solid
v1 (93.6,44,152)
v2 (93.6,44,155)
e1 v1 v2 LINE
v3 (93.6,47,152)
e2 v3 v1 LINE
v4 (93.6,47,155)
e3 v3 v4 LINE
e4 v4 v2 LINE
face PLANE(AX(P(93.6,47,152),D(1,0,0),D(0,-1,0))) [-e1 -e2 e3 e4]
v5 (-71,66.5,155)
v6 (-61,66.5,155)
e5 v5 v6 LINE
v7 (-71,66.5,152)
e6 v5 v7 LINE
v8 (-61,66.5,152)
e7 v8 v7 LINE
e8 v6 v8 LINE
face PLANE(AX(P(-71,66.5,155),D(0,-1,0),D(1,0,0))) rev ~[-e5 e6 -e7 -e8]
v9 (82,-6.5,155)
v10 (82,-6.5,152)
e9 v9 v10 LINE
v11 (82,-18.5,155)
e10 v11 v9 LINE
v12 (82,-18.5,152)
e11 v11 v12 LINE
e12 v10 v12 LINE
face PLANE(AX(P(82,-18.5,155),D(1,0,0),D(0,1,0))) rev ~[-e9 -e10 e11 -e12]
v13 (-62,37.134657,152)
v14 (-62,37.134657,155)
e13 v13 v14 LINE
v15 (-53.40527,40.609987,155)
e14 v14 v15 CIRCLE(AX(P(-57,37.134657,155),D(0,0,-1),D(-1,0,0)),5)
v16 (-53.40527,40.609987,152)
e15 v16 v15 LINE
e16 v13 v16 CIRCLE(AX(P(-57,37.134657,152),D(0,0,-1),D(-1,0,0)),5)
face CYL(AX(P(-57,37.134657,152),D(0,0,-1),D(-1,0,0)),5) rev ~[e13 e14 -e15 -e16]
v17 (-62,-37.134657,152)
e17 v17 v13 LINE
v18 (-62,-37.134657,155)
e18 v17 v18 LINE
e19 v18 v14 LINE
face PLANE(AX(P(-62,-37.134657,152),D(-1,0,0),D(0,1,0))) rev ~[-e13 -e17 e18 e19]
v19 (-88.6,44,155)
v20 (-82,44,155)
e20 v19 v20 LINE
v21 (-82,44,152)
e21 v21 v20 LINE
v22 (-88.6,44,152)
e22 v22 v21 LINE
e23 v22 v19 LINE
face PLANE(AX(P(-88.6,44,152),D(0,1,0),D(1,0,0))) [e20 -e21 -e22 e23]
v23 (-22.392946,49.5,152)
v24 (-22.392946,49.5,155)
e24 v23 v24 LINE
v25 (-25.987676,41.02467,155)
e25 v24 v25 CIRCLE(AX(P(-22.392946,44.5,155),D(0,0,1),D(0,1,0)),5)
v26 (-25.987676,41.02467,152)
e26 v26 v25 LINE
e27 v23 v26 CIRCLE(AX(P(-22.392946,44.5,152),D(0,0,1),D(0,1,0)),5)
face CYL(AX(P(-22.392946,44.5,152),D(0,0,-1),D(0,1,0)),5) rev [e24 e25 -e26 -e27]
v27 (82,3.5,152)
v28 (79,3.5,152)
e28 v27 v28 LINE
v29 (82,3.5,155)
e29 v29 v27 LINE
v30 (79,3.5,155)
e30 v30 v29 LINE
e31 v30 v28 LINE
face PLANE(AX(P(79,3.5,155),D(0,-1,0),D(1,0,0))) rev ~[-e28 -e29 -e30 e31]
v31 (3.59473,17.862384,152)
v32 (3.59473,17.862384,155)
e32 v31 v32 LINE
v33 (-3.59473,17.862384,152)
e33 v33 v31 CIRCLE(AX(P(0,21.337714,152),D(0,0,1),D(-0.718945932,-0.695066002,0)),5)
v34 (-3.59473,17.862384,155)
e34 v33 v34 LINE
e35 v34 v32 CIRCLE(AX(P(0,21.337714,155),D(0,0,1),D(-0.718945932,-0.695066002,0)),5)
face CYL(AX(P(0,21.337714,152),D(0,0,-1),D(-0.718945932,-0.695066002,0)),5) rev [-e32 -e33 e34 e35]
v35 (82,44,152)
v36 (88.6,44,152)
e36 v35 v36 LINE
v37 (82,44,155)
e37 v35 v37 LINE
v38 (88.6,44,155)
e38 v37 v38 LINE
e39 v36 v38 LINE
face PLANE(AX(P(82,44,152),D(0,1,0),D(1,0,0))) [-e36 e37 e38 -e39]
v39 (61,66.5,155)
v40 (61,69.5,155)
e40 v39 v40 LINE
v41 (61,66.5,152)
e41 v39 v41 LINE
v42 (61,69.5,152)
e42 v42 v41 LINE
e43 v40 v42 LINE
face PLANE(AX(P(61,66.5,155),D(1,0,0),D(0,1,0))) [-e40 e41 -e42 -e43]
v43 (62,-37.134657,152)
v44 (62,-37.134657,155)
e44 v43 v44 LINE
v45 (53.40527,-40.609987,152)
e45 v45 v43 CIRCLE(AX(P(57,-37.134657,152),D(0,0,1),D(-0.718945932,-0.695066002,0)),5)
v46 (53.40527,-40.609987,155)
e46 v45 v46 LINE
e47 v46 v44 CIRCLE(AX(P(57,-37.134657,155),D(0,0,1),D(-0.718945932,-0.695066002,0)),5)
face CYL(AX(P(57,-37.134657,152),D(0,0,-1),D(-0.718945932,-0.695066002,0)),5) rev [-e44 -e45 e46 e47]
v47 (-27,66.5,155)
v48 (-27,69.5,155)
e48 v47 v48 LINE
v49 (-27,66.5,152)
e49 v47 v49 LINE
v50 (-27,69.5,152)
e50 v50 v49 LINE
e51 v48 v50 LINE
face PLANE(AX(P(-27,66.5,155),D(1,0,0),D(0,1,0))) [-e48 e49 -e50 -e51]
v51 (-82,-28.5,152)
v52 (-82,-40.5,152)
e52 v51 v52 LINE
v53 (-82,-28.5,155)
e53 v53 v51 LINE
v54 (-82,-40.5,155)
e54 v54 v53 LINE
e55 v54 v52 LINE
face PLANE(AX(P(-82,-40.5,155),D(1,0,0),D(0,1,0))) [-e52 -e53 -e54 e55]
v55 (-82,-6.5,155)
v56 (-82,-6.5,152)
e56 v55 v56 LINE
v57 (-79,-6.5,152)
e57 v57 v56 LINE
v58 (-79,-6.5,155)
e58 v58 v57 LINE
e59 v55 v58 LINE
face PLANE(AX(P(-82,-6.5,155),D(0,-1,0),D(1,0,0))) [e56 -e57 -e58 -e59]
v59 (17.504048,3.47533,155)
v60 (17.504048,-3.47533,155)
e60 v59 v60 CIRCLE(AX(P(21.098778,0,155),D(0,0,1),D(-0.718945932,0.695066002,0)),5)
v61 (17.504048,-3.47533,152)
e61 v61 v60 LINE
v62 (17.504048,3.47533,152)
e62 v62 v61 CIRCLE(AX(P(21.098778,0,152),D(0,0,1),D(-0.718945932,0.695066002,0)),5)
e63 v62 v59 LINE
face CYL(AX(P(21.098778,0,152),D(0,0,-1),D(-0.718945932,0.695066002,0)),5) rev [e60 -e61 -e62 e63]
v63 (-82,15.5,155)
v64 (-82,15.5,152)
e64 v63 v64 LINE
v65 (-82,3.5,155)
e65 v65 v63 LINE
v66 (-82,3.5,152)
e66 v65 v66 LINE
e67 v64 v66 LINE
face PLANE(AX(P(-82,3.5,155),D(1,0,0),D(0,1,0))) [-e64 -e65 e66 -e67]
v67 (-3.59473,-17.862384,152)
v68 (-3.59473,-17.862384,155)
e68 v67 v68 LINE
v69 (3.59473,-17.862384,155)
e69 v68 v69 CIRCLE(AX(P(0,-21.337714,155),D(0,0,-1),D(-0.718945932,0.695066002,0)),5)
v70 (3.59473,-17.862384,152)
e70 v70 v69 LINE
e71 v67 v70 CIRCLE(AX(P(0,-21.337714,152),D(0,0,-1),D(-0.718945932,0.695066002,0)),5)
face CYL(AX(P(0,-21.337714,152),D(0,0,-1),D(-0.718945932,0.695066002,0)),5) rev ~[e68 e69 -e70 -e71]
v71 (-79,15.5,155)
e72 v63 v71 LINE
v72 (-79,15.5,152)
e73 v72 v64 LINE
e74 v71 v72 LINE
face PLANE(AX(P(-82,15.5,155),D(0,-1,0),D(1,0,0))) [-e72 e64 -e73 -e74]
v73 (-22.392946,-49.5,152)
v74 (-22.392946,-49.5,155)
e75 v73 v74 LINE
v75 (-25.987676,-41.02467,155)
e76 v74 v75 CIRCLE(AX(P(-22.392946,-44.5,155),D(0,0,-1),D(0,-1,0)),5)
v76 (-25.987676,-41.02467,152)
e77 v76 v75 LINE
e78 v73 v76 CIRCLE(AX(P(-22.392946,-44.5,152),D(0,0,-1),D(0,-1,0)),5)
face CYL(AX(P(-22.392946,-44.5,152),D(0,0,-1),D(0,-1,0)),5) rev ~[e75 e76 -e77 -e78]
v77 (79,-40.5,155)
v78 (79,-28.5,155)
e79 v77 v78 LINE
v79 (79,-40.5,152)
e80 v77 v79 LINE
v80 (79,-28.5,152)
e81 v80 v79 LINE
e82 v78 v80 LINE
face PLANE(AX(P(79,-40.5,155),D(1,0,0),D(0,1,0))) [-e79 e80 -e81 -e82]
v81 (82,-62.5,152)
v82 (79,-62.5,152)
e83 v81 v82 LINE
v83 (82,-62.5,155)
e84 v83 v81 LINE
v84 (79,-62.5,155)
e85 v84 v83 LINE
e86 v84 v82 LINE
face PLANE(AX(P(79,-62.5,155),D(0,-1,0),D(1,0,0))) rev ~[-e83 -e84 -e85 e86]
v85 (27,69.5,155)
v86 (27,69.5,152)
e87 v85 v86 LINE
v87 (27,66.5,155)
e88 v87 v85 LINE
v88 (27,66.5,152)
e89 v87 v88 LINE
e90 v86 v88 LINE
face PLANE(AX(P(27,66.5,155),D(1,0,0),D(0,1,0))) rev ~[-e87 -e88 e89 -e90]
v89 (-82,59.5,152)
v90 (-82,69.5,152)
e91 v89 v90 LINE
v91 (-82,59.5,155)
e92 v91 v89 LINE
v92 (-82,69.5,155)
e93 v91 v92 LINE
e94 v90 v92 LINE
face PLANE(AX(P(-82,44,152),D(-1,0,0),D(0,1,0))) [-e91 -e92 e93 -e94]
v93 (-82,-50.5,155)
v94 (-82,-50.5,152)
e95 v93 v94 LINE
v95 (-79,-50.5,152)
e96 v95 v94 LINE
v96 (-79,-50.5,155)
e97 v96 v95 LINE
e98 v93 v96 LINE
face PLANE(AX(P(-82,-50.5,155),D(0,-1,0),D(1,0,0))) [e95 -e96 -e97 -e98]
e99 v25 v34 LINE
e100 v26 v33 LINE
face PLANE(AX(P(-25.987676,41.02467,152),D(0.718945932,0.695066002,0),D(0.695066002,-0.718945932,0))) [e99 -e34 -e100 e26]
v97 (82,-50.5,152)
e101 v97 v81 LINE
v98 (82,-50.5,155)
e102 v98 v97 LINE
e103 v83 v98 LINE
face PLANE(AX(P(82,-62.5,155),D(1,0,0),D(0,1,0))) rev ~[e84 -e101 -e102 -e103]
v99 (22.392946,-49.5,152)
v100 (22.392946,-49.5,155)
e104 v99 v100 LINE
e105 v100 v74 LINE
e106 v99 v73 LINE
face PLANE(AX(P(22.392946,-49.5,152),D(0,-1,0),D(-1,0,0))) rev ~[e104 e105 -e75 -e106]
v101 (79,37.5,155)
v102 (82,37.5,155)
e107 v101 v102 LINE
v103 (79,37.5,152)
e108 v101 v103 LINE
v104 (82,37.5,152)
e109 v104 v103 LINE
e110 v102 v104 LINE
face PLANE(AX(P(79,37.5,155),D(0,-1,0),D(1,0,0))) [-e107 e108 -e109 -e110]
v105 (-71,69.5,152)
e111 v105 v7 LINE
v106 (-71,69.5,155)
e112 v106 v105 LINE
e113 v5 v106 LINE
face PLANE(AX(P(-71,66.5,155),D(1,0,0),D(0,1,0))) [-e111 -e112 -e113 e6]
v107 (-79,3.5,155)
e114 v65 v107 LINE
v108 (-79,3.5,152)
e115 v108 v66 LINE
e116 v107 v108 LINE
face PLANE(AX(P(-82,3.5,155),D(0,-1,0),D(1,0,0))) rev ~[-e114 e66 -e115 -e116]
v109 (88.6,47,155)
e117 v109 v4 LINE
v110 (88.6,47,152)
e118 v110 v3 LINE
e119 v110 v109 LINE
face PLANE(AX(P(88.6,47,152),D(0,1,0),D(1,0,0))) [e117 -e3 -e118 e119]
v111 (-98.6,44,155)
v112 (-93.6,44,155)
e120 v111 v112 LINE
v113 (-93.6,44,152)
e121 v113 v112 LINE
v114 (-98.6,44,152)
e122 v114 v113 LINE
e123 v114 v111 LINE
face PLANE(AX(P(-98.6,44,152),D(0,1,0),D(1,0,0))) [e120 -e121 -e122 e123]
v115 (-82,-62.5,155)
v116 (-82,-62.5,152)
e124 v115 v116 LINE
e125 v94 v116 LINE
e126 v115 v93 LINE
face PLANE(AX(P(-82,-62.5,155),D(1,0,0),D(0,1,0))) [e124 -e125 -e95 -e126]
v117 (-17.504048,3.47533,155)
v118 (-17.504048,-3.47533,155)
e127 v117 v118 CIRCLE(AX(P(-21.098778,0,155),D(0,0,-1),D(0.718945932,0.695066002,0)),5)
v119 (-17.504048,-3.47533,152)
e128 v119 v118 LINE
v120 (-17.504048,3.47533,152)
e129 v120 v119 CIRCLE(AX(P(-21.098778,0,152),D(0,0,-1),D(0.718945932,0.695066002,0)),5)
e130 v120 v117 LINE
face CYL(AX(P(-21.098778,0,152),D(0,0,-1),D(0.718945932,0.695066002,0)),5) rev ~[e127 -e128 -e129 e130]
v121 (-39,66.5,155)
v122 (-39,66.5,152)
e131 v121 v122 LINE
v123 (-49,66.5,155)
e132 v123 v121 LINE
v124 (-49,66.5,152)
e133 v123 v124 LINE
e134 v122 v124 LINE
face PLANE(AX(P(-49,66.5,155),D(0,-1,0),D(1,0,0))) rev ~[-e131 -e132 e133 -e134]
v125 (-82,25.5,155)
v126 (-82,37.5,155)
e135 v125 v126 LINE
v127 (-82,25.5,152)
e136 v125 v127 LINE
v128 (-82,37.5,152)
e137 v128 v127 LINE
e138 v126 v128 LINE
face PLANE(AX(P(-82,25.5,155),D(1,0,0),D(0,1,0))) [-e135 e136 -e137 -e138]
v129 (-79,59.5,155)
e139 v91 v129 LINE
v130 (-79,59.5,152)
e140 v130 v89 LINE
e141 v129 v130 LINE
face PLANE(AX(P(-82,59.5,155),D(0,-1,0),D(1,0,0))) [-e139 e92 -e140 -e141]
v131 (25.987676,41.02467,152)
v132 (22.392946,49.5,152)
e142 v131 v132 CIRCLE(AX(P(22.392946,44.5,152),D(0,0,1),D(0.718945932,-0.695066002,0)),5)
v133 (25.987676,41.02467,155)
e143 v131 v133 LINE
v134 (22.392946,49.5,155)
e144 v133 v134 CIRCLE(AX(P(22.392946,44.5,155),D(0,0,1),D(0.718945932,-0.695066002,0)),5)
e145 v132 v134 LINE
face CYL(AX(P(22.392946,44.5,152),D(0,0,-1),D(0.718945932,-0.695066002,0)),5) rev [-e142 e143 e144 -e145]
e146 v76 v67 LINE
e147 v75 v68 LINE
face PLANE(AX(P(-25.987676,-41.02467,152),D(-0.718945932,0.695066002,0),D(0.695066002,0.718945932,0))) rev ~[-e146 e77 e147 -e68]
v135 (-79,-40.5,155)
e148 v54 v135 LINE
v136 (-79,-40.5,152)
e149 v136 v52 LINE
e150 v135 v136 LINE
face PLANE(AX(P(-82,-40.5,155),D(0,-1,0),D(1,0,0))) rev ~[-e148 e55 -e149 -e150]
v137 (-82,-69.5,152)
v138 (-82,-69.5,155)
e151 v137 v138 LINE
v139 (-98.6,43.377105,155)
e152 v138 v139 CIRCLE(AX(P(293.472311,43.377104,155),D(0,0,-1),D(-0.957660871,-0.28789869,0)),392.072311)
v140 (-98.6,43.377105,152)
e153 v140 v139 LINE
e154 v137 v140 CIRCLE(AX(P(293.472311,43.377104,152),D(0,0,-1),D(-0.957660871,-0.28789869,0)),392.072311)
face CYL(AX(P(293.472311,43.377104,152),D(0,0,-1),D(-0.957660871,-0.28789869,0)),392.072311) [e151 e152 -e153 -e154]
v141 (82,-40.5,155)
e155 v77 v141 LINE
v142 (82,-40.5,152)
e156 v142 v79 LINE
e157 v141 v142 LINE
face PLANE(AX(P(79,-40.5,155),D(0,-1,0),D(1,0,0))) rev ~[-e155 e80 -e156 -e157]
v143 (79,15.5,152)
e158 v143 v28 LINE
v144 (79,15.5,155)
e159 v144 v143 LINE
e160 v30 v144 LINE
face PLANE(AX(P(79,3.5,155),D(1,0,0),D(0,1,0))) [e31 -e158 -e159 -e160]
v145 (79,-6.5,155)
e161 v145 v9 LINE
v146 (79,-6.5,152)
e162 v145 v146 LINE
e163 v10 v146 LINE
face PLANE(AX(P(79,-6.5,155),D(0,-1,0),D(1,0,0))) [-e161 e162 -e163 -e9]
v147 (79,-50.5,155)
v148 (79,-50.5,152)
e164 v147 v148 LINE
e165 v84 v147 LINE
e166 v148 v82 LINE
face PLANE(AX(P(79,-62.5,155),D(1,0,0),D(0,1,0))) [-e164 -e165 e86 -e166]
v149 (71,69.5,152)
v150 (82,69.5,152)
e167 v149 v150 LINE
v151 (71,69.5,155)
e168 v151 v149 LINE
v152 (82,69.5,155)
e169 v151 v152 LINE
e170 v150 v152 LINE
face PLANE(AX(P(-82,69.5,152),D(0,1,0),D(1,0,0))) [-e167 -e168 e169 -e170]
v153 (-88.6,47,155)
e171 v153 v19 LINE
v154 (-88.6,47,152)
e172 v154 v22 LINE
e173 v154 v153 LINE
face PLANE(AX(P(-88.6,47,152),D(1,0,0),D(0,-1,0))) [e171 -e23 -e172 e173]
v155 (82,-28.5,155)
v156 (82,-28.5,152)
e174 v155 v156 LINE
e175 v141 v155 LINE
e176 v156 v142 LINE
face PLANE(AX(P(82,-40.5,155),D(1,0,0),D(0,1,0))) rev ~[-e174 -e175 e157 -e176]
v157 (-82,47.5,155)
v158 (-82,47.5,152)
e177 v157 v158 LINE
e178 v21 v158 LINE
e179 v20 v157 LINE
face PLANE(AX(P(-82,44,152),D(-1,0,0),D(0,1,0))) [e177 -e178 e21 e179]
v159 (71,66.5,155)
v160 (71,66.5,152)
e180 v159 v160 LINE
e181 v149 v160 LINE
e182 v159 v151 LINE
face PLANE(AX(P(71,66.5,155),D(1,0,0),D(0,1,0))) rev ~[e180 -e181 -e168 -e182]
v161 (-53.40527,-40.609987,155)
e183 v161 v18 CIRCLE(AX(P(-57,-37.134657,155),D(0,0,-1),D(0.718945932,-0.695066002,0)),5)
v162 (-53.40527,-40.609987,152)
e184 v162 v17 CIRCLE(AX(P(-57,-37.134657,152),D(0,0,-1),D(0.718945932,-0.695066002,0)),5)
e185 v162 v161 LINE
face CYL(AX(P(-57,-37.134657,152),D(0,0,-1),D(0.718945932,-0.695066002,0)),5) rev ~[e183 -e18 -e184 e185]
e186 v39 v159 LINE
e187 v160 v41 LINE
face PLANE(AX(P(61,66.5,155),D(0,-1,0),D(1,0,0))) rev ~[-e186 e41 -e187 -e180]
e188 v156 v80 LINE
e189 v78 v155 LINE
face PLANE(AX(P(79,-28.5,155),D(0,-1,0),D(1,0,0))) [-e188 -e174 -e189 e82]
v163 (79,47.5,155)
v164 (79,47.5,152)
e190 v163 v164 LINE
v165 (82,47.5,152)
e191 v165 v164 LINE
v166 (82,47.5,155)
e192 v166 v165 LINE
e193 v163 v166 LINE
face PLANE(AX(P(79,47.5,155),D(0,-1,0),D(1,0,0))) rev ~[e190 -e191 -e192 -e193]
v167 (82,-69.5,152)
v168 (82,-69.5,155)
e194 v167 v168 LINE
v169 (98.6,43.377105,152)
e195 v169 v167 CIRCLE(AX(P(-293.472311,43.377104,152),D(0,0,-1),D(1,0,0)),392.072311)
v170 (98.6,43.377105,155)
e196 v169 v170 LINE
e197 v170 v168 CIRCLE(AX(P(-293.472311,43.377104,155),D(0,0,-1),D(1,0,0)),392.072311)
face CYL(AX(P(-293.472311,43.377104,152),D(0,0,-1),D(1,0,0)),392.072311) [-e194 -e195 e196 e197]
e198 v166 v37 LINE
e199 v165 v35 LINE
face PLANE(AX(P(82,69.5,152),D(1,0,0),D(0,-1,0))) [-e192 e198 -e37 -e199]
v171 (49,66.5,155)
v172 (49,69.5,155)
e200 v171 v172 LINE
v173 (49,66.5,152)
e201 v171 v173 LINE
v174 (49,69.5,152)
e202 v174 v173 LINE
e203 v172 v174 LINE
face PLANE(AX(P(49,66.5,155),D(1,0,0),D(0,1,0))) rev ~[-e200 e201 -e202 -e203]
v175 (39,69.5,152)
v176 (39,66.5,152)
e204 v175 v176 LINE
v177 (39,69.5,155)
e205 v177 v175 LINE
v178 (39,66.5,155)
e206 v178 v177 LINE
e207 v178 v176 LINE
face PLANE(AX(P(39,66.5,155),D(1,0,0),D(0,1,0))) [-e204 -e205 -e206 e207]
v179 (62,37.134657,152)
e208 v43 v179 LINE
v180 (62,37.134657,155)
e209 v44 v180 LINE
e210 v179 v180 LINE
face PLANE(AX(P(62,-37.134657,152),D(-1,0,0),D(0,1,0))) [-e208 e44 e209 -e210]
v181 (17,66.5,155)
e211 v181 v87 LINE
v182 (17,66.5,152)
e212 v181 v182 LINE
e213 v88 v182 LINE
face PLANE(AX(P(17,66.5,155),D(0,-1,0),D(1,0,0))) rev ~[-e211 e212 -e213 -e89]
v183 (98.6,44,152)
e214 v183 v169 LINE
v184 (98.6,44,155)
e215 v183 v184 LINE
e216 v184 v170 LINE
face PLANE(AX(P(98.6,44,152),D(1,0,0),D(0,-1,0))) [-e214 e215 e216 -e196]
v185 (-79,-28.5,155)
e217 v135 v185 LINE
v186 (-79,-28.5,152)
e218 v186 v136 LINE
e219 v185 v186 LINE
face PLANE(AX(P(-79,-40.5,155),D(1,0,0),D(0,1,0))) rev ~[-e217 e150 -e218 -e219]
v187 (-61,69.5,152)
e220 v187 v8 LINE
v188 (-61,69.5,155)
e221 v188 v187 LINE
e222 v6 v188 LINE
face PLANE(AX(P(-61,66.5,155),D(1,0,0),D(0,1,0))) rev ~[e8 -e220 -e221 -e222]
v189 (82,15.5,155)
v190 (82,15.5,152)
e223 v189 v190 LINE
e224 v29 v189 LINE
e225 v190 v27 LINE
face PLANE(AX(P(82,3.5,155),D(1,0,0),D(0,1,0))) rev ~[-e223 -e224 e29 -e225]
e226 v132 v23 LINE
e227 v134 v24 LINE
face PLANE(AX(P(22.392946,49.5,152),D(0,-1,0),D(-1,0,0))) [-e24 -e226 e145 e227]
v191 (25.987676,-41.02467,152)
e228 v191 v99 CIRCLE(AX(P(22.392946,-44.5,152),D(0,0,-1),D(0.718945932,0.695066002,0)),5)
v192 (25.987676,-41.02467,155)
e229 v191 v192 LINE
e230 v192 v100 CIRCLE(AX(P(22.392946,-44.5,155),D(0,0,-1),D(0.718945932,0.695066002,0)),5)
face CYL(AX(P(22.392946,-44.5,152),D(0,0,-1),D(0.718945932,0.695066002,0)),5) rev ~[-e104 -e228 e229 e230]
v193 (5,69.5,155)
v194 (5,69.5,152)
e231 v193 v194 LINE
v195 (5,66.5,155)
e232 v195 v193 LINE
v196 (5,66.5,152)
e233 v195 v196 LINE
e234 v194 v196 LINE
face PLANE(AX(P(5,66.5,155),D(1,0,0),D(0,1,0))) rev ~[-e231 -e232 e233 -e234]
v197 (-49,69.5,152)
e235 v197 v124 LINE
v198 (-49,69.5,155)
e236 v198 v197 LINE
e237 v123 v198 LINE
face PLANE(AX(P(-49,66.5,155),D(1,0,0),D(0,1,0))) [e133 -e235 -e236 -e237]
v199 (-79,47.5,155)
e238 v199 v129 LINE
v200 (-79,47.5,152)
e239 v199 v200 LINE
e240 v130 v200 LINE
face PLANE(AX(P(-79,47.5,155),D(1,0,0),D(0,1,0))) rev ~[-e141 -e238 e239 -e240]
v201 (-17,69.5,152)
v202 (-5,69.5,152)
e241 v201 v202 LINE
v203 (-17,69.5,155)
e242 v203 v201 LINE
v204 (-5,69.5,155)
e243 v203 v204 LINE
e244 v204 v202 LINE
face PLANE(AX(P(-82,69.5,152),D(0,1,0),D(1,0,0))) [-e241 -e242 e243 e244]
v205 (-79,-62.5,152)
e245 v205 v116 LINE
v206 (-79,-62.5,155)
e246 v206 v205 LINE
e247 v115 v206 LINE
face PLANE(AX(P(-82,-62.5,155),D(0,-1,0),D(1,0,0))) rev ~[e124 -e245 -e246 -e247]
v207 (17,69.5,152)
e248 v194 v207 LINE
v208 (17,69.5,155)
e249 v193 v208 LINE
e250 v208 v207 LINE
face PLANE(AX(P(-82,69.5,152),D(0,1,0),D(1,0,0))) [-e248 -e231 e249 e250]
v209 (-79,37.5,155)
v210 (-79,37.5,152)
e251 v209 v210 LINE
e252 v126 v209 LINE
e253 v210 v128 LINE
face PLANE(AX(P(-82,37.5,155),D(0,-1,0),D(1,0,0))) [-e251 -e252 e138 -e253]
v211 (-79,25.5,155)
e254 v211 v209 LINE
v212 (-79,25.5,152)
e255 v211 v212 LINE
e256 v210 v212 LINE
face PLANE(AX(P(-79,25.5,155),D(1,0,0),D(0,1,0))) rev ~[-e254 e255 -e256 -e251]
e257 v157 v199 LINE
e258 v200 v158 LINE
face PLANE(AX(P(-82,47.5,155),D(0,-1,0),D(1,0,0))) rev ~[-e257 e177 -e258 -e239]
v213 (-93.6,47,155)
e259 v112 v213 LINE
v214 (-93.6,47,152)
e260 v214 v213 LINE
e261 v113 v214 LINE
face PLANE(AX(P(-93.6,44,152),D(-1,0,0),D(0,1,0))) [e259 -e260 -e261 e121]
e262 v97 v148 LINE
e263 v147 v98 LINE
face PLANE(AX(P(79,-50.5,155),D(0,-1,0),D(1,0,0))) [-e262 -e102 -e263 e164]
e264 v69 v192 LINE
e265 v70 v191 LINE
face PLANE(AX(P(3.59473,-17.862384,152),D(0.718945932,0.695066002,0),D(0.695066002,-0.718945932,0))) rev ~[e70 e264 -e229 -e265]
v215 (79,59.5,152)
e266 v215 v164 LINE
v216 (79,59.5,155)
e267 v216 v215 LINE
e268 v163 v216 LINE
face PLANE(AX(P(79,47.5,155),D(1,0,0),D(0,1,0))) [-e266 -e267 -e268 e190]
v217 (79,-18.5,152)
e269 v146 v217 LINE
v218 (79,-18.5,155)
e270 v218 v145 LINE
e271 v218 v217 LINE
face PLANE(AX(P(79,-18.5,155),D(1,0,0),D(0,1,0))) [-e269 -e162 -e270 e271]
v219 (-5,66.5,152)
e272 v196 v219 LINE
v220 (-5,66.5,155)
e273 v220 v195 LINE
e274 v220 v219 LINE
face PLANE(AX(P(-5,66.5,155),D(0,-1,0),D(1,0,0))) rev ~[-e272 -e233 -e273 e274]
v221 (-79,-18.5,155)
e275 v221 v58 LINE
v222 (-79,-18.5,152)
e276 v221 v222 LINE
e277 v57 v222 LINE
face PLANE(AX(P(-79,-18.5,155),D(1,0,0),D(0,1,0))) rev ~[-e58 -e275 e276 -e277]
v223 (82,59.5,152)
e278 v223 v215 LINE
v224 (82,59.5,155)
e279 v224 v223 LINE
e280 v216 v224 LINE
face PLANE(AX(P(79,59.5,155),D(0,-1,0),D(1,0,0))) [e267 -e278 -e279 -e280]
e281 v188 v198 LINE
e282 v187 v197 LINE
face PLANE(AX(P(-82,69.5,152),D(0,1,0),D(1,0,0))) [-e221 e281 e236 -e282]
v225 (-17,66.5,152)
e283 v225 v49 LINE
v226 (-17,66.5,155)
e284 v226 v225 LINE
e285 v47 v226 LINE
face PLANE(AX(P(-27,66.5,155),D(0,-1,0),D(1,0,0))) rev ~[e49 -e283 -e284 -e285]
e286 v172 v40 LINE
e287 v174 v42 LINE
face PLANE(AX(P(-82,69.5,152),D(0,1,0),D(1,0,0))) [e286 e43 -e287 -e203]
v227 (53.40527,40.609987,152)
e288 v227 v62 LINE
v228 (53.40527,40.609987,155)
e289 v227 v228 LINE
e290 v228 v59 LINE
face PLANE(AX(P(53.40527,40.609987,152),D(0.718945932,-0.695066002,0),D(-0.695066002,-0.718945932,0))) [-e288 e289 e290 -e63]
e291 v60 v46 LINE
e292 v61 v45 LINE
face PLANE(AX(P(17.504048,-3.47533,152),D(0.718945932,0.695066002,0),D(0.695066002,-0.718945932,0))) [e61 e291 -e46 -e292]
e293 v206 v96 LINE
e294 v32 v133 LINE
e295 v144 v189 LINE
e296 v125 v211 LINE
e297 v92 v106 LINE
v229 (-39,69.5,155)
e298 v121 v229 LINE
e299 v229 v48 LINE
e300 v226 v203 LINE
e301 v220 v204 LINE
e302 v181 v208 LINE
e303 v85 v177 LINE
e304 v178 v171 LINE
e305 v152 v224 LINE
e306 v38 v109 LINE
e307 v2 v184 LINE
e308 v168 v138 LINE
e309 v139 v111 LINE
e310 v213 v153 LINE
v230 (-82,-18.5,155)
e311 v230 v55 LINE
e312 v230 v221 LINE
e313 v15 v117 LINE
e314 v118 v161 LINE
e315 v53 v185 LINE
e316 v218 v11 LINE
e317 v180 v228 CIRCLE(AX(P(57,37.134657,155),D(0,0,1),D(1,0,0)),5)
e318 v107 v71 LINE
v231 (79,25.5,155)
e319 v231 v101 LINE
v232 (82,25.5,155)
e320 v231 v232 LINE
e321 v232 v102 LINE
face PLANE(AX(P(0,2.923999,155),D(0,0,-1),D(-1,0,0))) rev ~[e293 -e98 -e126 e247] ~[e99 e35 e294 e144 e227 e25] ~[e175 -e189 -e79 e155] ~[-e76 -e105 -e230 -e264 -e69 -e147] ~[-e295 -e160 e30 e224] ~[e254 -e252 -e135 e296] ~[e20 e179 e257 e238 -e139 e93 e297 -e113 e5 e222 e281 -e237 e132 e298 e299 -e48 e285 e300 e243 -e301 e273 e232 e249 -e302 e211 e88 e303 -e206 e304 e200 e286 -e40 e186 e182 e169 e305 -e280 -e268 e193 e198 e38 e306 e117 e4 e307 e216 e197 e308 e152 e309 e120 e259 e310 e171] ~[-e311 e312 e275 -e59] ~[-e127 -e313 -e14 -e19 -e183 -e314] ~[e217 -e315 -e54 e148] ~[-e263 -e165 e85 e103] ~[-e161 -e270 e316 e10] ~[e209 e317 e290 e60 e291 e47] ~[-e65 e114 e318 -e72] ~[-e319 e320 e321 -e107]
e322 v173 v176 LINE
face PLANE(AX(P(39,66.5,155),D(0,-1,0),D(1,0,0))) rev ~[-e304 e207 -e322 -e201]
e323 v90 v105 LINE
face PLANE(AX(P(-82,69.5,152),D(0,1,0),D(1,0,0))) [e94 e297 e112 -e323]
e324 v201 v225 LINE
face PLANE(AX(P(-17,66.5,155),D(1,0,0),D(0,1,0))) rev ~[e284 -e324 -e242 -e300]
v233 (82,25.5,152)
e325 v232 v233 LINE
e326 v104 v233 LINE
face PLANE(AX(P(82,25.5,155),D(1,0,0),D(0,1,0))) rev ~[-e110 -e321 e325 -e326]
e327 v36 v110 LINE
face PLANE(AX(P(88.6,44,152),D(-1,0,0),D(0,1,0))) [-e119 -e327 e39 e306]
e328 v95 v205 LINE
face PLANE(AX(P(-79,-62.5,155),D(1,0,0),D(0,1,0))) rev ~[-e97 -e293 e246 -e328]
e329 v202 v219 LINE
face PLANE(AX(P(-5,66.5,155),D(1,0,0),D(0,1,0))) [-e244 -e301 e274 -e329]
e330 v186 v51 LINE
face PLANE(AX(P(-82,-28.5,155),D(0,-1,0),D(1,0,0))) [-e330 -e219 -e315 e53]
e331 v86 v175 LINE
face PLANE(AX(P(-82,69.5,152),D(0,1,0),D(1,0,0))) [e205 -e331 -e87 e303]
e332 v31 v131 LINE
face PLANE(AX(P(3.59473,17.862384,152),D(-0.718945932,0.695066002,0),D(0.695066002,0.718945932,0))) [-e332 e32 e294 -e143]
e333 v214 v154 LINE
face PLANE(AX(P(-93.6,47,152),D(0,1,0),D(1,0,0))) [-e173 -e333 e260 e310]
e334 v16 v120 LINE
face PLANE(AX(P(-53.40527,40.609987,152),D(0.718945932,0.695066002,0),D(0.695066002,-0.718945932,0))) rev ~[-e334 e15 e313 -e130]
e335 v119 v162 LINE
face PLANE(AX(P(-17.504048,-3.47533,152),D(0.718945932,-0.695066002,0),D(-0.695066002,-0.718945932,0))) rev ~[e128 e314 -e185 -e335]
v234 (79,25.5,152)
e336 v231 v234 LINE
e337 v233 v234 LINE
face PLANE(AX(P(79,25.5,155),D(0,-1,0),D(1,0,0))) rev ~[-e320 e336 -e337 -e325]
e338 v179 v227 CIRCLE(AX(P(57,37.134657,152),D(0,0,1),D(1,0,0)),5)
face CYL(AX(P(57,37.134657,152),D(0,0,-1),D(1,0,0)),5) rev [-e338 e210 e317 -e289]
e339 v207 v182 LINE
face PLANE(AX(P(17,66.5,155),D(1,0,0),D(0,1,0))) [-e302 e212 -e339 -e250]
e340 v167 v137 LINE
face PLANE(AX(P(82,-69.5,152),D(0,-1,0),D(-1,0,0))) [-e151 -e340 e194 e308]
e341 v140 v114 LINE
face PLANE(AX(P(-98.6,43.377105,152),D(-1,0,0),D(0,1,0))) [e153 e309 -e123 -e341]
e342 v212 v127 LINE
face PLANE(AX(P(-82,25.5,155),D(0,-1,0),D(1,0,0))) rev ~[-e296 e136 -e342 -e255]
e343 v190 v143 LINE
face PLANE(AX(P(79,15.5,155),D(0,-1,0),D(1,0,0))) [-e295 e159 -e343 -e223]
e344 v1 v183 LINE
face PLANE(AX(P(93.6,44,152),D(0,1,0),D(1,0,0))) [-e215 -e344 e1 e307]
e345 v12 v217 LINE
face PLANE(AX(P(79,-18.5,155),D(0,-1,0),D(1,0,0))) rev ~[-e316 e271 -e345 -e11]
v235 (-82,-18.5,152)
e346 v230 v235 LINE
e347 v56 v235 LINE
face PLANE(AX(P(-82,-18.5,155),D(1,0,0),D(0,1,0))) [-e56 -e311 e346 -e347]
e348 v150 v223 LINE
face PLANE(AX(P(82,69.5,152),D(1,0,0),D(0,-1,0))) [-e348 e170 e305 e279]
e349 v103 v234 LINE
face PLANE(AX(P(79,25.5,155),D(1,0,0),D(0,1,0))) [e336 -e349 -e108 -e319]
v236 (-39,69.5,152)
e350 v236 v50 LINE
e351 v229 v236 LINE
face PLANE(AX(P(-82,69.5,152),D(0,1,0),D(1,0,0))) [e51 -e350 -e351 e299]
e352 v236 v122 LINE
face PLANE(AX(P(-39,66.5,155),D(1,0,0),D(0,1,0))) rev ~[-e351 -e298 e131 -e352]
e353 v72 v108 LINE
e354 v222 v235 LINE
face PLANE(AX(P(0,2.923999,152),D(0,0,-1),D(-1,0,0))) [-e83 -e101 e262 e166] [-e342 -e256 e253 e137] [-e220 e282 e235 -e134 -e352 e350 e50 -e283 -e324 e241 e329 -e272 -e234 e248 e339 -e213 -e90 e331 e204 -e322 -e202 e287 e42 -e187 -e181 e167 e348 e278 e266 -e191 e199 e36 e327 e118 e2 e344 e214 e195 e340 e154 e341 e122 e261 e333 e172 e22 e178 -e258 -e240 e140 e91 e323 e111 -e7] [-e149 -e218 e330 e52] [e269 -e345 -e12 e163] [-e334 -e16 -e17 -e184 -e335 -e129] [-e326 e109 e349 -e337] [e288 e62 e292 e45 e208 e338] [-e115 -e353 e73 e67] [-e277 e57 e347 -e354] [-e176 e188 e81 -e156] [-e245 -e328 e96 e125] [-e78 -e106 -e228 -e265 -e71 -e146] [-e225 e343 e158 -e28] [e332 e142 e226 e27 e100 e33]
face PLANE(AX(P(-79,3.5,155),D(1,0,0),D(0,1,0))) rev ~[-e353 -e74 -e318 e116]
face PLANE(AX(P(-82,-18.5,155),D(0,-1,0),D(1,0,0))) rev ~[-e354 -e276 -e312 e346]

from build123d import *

# Parameters (mm, degrees)
BOSS_EXTRUDE1_DEPTH = 3
SKETCH2_W           = 10
SKETCH2_H           = 3
SKETCH2_W_2         = 3
SKETCH2_H_2         = 12
CUT_EXTRUDE1_DEPTH  = 10


with BuildPart() as part:
    # Sketch1 → Boss-Extrude1 (new body)
    with BuildSketch(Plane.XY.offset(152)):
        with BuildLine():
            Line((-82, 69.5), (82, 69.5))
            Line((82, 69.5), (82, 44))
            Line((82, 44), (88.6, 44))
            Line((88.6, 44), (88.6, 47))
            Line((88.6, 47), (93.6, 47))
            Line((93.6, 47), (93.6, 44))
            Line((93.6, 44), (98.6, 44))
            Line((98.6, 44), (98.6, 43.377104502))
            ThreePointArc((98.6, 43.377104502), (94.427800977, -13.668492876), (82, -69.5))
            Line((82, -69.5), (-82, -69.5))
            ThreePointArc((-82, -69.5), (-94.427800977, -13.668492876), (-98.6, 43.377104502))
            Line((-98.6, 43.377104502), (-98.6, 44))
            Line((-98.6, 44), (-93.6, 44))
            Line((-93.6, 44), (-93.6, 47))
            Line((-93.6, 47), (-88.6, 47))
            Line((-88.6, 47), (-88.6, 44))
            Line((-88.6, 44), (-82, 44))
            Line((-82, 44), (-82, 69.5))
        make_face()
        with BuildLine():
            Line((-62, -37.134656801), (-62, 37.134656801))
            ThreePointArc((-62, 37.134656801), (-58.87434678, 41.770045043), (-53.405270341, 40.609986811))
            Line((-53.405270341, 40.609986811), (-17.504048439, 3.47533001))
            ThreePointArc((-17.504048439, 3.47533001), (-16.098778099, 0), (-17.504048439, -3.47533001))
            Line((-17.504048439, -3.47533001), (-53.405270341, -40.609986811))
            ThreePointArc((-53.405270341, -40.609986811), (-58.87434678, -41.770045043), (-62, -37.134656801))
        make_face(mode=Mode.SUBTRACT)
        with BuildLine():
            Line((22.39294647, 49.5), (-22.39294647, 49.5))
            ThreePointArc((-22.39294647, 49.5), (-26.996024247, 46.452351141), (-25.987676129, 41.02466999))
            Line((-25.987676129, 41.02466999), (-3.594729659, 17.862383642))
            ThreePointArc((-3.594729659, 17.862383642), (0, 16.337713652), (3.594729659, 17.862383642))
            Line((3.594729659, 17.862383642), (25.987676129, 41.02466999))
            ThreePointArc((25.987676129, 41.02466999), (26.996024247, 46.452351141), (22.39294647, 49.5))
        make_face(mode=Mode.SUBTRACT)
        with BuildLine():
            Line((53.405270341, 40.609986811), (17.504048439, 3.47533001))
            ThreePointArc((17.504048439, 3.47533001), (16.098778099, 0), (17.504048439, -3.47533001))
            Line((17.504048439, -3.47533001), (53.405270341, -40.609986811))
            ThreePointArc((53.405270341, -40.609986811), (58.87434678, -41.770045043), (62, -37.134656801))
            Line((62, -37.134656801), (62, 37.134656801))
            ThreePointArc((62, 37.134656801), (58.87434678, 41.770045043), (53.405270341, 40.609986811))
        make_face(mode=Mode.SUBTRACT)
        with BuildLine():
            Line((-25.987676129, -41.02466999), (-3.594729659, -17.862383642))
            ThreePointArc((-3.594729659, -17.862383642), (0, -16.337713652), (3.594729659, -17.862383642))
            Line((3.594729659, -17.862383642), (25.987676129, -41.02466999))
            ThreePointArc((25.987676129, -41.02466999), (26.996024247, -46.452351141), (22.39294647, -49.5))
            Line((22.39294647, -49.5), (-22.39294647, -49.5))
            ThreePointArc((-22.39294647, -49.5), (-26.996024247, -46.452351141), (-25.987676129, -41.02466999))
        make_face(mode=Mode.SUBTRACT)
    extrude(amount=BOSS_EXTRUDE1_DEPTH)

    # Sketch2 → Cut-Extrude1 (cut)
    with BuildSketch(Plane.XY.offset(155)):
        with Locations((0, 68)):
            Rectangle(SKETCH2_W, SKETCH2_H)
        with Locations((-22, 68)):
            Rectangle(SKETCH2_W, SKETCH2_H)
        with Locations((22, 68)):
            Rectangle(SKETCH2_W, SKETCH2_H)
        with Locations((-44, 68)):
            Rectangle(SKETCH2_W, SKETCH2_H)
        with Locations((44, 68)):
            Rectangle(SKETCH2_W, SKETCH2_H)
        with Locations((-66, 68)):
            Rectangle(SKETCH2_W, SKETCH2_H)
        with Locations((66, 68)):
            Rectangle(SKETCH2_W, SKETCH2_H)
        with Locations((-80.5, 53.5)):
            Rectangle(SKETCH2_W_2, SKETCH2_H_2)
        with Locations((80.5, 53.5)):
            Rectangle(SKETCH2_W_2, SKETCH2_H_2)
        with Locations((-80.5, 31.5)):
            Rectangle(SKETCH2_W_2, SKETCH2_H_2)
        with Locations((-80.5, 9.5)):
            Rectangle(SKETCH2_W_2, SKETCH2_H_2)
        with Locations((-80.5, -12.5)):
            Rectangle(SKETCH2_W_2, SKETCH2_H_2)
        with Locations((-80.5, -34.5)):
            Rectangle(SKETCH2_W_2, SKETCH2_H_2)
        with Locations((-80.5, -56.5)):
            Rectangle(SKETCH2_W_2, SKETCH2_H_2)
        with Locations((80.5, -56.5)):
            Rectangle(SKETCH2_W_2, SKETCH2_H_2)
        with Locations((80.5, -34.5)):
            Rectangle(SKETCH2_W_2, SKETCH2_H_2)
        with Locations((80.5, -12.5)):
            Rectangle(SKETCH2_W_2, SKETCH2_H_2)
        with Locations((80.5, 9.5)):
            Rectangle(SKETCH2_W_2, SKETCH2_H_2)
        with Locations((80.5, 31.5)):
            Rectangle(SKETCH2_W_2, SKETCH2_H_2)
    extrude(amount=-CUT_EXTRUDE1_DEPTH, mode=Mode.SUBTRACT)


solid = part.part
